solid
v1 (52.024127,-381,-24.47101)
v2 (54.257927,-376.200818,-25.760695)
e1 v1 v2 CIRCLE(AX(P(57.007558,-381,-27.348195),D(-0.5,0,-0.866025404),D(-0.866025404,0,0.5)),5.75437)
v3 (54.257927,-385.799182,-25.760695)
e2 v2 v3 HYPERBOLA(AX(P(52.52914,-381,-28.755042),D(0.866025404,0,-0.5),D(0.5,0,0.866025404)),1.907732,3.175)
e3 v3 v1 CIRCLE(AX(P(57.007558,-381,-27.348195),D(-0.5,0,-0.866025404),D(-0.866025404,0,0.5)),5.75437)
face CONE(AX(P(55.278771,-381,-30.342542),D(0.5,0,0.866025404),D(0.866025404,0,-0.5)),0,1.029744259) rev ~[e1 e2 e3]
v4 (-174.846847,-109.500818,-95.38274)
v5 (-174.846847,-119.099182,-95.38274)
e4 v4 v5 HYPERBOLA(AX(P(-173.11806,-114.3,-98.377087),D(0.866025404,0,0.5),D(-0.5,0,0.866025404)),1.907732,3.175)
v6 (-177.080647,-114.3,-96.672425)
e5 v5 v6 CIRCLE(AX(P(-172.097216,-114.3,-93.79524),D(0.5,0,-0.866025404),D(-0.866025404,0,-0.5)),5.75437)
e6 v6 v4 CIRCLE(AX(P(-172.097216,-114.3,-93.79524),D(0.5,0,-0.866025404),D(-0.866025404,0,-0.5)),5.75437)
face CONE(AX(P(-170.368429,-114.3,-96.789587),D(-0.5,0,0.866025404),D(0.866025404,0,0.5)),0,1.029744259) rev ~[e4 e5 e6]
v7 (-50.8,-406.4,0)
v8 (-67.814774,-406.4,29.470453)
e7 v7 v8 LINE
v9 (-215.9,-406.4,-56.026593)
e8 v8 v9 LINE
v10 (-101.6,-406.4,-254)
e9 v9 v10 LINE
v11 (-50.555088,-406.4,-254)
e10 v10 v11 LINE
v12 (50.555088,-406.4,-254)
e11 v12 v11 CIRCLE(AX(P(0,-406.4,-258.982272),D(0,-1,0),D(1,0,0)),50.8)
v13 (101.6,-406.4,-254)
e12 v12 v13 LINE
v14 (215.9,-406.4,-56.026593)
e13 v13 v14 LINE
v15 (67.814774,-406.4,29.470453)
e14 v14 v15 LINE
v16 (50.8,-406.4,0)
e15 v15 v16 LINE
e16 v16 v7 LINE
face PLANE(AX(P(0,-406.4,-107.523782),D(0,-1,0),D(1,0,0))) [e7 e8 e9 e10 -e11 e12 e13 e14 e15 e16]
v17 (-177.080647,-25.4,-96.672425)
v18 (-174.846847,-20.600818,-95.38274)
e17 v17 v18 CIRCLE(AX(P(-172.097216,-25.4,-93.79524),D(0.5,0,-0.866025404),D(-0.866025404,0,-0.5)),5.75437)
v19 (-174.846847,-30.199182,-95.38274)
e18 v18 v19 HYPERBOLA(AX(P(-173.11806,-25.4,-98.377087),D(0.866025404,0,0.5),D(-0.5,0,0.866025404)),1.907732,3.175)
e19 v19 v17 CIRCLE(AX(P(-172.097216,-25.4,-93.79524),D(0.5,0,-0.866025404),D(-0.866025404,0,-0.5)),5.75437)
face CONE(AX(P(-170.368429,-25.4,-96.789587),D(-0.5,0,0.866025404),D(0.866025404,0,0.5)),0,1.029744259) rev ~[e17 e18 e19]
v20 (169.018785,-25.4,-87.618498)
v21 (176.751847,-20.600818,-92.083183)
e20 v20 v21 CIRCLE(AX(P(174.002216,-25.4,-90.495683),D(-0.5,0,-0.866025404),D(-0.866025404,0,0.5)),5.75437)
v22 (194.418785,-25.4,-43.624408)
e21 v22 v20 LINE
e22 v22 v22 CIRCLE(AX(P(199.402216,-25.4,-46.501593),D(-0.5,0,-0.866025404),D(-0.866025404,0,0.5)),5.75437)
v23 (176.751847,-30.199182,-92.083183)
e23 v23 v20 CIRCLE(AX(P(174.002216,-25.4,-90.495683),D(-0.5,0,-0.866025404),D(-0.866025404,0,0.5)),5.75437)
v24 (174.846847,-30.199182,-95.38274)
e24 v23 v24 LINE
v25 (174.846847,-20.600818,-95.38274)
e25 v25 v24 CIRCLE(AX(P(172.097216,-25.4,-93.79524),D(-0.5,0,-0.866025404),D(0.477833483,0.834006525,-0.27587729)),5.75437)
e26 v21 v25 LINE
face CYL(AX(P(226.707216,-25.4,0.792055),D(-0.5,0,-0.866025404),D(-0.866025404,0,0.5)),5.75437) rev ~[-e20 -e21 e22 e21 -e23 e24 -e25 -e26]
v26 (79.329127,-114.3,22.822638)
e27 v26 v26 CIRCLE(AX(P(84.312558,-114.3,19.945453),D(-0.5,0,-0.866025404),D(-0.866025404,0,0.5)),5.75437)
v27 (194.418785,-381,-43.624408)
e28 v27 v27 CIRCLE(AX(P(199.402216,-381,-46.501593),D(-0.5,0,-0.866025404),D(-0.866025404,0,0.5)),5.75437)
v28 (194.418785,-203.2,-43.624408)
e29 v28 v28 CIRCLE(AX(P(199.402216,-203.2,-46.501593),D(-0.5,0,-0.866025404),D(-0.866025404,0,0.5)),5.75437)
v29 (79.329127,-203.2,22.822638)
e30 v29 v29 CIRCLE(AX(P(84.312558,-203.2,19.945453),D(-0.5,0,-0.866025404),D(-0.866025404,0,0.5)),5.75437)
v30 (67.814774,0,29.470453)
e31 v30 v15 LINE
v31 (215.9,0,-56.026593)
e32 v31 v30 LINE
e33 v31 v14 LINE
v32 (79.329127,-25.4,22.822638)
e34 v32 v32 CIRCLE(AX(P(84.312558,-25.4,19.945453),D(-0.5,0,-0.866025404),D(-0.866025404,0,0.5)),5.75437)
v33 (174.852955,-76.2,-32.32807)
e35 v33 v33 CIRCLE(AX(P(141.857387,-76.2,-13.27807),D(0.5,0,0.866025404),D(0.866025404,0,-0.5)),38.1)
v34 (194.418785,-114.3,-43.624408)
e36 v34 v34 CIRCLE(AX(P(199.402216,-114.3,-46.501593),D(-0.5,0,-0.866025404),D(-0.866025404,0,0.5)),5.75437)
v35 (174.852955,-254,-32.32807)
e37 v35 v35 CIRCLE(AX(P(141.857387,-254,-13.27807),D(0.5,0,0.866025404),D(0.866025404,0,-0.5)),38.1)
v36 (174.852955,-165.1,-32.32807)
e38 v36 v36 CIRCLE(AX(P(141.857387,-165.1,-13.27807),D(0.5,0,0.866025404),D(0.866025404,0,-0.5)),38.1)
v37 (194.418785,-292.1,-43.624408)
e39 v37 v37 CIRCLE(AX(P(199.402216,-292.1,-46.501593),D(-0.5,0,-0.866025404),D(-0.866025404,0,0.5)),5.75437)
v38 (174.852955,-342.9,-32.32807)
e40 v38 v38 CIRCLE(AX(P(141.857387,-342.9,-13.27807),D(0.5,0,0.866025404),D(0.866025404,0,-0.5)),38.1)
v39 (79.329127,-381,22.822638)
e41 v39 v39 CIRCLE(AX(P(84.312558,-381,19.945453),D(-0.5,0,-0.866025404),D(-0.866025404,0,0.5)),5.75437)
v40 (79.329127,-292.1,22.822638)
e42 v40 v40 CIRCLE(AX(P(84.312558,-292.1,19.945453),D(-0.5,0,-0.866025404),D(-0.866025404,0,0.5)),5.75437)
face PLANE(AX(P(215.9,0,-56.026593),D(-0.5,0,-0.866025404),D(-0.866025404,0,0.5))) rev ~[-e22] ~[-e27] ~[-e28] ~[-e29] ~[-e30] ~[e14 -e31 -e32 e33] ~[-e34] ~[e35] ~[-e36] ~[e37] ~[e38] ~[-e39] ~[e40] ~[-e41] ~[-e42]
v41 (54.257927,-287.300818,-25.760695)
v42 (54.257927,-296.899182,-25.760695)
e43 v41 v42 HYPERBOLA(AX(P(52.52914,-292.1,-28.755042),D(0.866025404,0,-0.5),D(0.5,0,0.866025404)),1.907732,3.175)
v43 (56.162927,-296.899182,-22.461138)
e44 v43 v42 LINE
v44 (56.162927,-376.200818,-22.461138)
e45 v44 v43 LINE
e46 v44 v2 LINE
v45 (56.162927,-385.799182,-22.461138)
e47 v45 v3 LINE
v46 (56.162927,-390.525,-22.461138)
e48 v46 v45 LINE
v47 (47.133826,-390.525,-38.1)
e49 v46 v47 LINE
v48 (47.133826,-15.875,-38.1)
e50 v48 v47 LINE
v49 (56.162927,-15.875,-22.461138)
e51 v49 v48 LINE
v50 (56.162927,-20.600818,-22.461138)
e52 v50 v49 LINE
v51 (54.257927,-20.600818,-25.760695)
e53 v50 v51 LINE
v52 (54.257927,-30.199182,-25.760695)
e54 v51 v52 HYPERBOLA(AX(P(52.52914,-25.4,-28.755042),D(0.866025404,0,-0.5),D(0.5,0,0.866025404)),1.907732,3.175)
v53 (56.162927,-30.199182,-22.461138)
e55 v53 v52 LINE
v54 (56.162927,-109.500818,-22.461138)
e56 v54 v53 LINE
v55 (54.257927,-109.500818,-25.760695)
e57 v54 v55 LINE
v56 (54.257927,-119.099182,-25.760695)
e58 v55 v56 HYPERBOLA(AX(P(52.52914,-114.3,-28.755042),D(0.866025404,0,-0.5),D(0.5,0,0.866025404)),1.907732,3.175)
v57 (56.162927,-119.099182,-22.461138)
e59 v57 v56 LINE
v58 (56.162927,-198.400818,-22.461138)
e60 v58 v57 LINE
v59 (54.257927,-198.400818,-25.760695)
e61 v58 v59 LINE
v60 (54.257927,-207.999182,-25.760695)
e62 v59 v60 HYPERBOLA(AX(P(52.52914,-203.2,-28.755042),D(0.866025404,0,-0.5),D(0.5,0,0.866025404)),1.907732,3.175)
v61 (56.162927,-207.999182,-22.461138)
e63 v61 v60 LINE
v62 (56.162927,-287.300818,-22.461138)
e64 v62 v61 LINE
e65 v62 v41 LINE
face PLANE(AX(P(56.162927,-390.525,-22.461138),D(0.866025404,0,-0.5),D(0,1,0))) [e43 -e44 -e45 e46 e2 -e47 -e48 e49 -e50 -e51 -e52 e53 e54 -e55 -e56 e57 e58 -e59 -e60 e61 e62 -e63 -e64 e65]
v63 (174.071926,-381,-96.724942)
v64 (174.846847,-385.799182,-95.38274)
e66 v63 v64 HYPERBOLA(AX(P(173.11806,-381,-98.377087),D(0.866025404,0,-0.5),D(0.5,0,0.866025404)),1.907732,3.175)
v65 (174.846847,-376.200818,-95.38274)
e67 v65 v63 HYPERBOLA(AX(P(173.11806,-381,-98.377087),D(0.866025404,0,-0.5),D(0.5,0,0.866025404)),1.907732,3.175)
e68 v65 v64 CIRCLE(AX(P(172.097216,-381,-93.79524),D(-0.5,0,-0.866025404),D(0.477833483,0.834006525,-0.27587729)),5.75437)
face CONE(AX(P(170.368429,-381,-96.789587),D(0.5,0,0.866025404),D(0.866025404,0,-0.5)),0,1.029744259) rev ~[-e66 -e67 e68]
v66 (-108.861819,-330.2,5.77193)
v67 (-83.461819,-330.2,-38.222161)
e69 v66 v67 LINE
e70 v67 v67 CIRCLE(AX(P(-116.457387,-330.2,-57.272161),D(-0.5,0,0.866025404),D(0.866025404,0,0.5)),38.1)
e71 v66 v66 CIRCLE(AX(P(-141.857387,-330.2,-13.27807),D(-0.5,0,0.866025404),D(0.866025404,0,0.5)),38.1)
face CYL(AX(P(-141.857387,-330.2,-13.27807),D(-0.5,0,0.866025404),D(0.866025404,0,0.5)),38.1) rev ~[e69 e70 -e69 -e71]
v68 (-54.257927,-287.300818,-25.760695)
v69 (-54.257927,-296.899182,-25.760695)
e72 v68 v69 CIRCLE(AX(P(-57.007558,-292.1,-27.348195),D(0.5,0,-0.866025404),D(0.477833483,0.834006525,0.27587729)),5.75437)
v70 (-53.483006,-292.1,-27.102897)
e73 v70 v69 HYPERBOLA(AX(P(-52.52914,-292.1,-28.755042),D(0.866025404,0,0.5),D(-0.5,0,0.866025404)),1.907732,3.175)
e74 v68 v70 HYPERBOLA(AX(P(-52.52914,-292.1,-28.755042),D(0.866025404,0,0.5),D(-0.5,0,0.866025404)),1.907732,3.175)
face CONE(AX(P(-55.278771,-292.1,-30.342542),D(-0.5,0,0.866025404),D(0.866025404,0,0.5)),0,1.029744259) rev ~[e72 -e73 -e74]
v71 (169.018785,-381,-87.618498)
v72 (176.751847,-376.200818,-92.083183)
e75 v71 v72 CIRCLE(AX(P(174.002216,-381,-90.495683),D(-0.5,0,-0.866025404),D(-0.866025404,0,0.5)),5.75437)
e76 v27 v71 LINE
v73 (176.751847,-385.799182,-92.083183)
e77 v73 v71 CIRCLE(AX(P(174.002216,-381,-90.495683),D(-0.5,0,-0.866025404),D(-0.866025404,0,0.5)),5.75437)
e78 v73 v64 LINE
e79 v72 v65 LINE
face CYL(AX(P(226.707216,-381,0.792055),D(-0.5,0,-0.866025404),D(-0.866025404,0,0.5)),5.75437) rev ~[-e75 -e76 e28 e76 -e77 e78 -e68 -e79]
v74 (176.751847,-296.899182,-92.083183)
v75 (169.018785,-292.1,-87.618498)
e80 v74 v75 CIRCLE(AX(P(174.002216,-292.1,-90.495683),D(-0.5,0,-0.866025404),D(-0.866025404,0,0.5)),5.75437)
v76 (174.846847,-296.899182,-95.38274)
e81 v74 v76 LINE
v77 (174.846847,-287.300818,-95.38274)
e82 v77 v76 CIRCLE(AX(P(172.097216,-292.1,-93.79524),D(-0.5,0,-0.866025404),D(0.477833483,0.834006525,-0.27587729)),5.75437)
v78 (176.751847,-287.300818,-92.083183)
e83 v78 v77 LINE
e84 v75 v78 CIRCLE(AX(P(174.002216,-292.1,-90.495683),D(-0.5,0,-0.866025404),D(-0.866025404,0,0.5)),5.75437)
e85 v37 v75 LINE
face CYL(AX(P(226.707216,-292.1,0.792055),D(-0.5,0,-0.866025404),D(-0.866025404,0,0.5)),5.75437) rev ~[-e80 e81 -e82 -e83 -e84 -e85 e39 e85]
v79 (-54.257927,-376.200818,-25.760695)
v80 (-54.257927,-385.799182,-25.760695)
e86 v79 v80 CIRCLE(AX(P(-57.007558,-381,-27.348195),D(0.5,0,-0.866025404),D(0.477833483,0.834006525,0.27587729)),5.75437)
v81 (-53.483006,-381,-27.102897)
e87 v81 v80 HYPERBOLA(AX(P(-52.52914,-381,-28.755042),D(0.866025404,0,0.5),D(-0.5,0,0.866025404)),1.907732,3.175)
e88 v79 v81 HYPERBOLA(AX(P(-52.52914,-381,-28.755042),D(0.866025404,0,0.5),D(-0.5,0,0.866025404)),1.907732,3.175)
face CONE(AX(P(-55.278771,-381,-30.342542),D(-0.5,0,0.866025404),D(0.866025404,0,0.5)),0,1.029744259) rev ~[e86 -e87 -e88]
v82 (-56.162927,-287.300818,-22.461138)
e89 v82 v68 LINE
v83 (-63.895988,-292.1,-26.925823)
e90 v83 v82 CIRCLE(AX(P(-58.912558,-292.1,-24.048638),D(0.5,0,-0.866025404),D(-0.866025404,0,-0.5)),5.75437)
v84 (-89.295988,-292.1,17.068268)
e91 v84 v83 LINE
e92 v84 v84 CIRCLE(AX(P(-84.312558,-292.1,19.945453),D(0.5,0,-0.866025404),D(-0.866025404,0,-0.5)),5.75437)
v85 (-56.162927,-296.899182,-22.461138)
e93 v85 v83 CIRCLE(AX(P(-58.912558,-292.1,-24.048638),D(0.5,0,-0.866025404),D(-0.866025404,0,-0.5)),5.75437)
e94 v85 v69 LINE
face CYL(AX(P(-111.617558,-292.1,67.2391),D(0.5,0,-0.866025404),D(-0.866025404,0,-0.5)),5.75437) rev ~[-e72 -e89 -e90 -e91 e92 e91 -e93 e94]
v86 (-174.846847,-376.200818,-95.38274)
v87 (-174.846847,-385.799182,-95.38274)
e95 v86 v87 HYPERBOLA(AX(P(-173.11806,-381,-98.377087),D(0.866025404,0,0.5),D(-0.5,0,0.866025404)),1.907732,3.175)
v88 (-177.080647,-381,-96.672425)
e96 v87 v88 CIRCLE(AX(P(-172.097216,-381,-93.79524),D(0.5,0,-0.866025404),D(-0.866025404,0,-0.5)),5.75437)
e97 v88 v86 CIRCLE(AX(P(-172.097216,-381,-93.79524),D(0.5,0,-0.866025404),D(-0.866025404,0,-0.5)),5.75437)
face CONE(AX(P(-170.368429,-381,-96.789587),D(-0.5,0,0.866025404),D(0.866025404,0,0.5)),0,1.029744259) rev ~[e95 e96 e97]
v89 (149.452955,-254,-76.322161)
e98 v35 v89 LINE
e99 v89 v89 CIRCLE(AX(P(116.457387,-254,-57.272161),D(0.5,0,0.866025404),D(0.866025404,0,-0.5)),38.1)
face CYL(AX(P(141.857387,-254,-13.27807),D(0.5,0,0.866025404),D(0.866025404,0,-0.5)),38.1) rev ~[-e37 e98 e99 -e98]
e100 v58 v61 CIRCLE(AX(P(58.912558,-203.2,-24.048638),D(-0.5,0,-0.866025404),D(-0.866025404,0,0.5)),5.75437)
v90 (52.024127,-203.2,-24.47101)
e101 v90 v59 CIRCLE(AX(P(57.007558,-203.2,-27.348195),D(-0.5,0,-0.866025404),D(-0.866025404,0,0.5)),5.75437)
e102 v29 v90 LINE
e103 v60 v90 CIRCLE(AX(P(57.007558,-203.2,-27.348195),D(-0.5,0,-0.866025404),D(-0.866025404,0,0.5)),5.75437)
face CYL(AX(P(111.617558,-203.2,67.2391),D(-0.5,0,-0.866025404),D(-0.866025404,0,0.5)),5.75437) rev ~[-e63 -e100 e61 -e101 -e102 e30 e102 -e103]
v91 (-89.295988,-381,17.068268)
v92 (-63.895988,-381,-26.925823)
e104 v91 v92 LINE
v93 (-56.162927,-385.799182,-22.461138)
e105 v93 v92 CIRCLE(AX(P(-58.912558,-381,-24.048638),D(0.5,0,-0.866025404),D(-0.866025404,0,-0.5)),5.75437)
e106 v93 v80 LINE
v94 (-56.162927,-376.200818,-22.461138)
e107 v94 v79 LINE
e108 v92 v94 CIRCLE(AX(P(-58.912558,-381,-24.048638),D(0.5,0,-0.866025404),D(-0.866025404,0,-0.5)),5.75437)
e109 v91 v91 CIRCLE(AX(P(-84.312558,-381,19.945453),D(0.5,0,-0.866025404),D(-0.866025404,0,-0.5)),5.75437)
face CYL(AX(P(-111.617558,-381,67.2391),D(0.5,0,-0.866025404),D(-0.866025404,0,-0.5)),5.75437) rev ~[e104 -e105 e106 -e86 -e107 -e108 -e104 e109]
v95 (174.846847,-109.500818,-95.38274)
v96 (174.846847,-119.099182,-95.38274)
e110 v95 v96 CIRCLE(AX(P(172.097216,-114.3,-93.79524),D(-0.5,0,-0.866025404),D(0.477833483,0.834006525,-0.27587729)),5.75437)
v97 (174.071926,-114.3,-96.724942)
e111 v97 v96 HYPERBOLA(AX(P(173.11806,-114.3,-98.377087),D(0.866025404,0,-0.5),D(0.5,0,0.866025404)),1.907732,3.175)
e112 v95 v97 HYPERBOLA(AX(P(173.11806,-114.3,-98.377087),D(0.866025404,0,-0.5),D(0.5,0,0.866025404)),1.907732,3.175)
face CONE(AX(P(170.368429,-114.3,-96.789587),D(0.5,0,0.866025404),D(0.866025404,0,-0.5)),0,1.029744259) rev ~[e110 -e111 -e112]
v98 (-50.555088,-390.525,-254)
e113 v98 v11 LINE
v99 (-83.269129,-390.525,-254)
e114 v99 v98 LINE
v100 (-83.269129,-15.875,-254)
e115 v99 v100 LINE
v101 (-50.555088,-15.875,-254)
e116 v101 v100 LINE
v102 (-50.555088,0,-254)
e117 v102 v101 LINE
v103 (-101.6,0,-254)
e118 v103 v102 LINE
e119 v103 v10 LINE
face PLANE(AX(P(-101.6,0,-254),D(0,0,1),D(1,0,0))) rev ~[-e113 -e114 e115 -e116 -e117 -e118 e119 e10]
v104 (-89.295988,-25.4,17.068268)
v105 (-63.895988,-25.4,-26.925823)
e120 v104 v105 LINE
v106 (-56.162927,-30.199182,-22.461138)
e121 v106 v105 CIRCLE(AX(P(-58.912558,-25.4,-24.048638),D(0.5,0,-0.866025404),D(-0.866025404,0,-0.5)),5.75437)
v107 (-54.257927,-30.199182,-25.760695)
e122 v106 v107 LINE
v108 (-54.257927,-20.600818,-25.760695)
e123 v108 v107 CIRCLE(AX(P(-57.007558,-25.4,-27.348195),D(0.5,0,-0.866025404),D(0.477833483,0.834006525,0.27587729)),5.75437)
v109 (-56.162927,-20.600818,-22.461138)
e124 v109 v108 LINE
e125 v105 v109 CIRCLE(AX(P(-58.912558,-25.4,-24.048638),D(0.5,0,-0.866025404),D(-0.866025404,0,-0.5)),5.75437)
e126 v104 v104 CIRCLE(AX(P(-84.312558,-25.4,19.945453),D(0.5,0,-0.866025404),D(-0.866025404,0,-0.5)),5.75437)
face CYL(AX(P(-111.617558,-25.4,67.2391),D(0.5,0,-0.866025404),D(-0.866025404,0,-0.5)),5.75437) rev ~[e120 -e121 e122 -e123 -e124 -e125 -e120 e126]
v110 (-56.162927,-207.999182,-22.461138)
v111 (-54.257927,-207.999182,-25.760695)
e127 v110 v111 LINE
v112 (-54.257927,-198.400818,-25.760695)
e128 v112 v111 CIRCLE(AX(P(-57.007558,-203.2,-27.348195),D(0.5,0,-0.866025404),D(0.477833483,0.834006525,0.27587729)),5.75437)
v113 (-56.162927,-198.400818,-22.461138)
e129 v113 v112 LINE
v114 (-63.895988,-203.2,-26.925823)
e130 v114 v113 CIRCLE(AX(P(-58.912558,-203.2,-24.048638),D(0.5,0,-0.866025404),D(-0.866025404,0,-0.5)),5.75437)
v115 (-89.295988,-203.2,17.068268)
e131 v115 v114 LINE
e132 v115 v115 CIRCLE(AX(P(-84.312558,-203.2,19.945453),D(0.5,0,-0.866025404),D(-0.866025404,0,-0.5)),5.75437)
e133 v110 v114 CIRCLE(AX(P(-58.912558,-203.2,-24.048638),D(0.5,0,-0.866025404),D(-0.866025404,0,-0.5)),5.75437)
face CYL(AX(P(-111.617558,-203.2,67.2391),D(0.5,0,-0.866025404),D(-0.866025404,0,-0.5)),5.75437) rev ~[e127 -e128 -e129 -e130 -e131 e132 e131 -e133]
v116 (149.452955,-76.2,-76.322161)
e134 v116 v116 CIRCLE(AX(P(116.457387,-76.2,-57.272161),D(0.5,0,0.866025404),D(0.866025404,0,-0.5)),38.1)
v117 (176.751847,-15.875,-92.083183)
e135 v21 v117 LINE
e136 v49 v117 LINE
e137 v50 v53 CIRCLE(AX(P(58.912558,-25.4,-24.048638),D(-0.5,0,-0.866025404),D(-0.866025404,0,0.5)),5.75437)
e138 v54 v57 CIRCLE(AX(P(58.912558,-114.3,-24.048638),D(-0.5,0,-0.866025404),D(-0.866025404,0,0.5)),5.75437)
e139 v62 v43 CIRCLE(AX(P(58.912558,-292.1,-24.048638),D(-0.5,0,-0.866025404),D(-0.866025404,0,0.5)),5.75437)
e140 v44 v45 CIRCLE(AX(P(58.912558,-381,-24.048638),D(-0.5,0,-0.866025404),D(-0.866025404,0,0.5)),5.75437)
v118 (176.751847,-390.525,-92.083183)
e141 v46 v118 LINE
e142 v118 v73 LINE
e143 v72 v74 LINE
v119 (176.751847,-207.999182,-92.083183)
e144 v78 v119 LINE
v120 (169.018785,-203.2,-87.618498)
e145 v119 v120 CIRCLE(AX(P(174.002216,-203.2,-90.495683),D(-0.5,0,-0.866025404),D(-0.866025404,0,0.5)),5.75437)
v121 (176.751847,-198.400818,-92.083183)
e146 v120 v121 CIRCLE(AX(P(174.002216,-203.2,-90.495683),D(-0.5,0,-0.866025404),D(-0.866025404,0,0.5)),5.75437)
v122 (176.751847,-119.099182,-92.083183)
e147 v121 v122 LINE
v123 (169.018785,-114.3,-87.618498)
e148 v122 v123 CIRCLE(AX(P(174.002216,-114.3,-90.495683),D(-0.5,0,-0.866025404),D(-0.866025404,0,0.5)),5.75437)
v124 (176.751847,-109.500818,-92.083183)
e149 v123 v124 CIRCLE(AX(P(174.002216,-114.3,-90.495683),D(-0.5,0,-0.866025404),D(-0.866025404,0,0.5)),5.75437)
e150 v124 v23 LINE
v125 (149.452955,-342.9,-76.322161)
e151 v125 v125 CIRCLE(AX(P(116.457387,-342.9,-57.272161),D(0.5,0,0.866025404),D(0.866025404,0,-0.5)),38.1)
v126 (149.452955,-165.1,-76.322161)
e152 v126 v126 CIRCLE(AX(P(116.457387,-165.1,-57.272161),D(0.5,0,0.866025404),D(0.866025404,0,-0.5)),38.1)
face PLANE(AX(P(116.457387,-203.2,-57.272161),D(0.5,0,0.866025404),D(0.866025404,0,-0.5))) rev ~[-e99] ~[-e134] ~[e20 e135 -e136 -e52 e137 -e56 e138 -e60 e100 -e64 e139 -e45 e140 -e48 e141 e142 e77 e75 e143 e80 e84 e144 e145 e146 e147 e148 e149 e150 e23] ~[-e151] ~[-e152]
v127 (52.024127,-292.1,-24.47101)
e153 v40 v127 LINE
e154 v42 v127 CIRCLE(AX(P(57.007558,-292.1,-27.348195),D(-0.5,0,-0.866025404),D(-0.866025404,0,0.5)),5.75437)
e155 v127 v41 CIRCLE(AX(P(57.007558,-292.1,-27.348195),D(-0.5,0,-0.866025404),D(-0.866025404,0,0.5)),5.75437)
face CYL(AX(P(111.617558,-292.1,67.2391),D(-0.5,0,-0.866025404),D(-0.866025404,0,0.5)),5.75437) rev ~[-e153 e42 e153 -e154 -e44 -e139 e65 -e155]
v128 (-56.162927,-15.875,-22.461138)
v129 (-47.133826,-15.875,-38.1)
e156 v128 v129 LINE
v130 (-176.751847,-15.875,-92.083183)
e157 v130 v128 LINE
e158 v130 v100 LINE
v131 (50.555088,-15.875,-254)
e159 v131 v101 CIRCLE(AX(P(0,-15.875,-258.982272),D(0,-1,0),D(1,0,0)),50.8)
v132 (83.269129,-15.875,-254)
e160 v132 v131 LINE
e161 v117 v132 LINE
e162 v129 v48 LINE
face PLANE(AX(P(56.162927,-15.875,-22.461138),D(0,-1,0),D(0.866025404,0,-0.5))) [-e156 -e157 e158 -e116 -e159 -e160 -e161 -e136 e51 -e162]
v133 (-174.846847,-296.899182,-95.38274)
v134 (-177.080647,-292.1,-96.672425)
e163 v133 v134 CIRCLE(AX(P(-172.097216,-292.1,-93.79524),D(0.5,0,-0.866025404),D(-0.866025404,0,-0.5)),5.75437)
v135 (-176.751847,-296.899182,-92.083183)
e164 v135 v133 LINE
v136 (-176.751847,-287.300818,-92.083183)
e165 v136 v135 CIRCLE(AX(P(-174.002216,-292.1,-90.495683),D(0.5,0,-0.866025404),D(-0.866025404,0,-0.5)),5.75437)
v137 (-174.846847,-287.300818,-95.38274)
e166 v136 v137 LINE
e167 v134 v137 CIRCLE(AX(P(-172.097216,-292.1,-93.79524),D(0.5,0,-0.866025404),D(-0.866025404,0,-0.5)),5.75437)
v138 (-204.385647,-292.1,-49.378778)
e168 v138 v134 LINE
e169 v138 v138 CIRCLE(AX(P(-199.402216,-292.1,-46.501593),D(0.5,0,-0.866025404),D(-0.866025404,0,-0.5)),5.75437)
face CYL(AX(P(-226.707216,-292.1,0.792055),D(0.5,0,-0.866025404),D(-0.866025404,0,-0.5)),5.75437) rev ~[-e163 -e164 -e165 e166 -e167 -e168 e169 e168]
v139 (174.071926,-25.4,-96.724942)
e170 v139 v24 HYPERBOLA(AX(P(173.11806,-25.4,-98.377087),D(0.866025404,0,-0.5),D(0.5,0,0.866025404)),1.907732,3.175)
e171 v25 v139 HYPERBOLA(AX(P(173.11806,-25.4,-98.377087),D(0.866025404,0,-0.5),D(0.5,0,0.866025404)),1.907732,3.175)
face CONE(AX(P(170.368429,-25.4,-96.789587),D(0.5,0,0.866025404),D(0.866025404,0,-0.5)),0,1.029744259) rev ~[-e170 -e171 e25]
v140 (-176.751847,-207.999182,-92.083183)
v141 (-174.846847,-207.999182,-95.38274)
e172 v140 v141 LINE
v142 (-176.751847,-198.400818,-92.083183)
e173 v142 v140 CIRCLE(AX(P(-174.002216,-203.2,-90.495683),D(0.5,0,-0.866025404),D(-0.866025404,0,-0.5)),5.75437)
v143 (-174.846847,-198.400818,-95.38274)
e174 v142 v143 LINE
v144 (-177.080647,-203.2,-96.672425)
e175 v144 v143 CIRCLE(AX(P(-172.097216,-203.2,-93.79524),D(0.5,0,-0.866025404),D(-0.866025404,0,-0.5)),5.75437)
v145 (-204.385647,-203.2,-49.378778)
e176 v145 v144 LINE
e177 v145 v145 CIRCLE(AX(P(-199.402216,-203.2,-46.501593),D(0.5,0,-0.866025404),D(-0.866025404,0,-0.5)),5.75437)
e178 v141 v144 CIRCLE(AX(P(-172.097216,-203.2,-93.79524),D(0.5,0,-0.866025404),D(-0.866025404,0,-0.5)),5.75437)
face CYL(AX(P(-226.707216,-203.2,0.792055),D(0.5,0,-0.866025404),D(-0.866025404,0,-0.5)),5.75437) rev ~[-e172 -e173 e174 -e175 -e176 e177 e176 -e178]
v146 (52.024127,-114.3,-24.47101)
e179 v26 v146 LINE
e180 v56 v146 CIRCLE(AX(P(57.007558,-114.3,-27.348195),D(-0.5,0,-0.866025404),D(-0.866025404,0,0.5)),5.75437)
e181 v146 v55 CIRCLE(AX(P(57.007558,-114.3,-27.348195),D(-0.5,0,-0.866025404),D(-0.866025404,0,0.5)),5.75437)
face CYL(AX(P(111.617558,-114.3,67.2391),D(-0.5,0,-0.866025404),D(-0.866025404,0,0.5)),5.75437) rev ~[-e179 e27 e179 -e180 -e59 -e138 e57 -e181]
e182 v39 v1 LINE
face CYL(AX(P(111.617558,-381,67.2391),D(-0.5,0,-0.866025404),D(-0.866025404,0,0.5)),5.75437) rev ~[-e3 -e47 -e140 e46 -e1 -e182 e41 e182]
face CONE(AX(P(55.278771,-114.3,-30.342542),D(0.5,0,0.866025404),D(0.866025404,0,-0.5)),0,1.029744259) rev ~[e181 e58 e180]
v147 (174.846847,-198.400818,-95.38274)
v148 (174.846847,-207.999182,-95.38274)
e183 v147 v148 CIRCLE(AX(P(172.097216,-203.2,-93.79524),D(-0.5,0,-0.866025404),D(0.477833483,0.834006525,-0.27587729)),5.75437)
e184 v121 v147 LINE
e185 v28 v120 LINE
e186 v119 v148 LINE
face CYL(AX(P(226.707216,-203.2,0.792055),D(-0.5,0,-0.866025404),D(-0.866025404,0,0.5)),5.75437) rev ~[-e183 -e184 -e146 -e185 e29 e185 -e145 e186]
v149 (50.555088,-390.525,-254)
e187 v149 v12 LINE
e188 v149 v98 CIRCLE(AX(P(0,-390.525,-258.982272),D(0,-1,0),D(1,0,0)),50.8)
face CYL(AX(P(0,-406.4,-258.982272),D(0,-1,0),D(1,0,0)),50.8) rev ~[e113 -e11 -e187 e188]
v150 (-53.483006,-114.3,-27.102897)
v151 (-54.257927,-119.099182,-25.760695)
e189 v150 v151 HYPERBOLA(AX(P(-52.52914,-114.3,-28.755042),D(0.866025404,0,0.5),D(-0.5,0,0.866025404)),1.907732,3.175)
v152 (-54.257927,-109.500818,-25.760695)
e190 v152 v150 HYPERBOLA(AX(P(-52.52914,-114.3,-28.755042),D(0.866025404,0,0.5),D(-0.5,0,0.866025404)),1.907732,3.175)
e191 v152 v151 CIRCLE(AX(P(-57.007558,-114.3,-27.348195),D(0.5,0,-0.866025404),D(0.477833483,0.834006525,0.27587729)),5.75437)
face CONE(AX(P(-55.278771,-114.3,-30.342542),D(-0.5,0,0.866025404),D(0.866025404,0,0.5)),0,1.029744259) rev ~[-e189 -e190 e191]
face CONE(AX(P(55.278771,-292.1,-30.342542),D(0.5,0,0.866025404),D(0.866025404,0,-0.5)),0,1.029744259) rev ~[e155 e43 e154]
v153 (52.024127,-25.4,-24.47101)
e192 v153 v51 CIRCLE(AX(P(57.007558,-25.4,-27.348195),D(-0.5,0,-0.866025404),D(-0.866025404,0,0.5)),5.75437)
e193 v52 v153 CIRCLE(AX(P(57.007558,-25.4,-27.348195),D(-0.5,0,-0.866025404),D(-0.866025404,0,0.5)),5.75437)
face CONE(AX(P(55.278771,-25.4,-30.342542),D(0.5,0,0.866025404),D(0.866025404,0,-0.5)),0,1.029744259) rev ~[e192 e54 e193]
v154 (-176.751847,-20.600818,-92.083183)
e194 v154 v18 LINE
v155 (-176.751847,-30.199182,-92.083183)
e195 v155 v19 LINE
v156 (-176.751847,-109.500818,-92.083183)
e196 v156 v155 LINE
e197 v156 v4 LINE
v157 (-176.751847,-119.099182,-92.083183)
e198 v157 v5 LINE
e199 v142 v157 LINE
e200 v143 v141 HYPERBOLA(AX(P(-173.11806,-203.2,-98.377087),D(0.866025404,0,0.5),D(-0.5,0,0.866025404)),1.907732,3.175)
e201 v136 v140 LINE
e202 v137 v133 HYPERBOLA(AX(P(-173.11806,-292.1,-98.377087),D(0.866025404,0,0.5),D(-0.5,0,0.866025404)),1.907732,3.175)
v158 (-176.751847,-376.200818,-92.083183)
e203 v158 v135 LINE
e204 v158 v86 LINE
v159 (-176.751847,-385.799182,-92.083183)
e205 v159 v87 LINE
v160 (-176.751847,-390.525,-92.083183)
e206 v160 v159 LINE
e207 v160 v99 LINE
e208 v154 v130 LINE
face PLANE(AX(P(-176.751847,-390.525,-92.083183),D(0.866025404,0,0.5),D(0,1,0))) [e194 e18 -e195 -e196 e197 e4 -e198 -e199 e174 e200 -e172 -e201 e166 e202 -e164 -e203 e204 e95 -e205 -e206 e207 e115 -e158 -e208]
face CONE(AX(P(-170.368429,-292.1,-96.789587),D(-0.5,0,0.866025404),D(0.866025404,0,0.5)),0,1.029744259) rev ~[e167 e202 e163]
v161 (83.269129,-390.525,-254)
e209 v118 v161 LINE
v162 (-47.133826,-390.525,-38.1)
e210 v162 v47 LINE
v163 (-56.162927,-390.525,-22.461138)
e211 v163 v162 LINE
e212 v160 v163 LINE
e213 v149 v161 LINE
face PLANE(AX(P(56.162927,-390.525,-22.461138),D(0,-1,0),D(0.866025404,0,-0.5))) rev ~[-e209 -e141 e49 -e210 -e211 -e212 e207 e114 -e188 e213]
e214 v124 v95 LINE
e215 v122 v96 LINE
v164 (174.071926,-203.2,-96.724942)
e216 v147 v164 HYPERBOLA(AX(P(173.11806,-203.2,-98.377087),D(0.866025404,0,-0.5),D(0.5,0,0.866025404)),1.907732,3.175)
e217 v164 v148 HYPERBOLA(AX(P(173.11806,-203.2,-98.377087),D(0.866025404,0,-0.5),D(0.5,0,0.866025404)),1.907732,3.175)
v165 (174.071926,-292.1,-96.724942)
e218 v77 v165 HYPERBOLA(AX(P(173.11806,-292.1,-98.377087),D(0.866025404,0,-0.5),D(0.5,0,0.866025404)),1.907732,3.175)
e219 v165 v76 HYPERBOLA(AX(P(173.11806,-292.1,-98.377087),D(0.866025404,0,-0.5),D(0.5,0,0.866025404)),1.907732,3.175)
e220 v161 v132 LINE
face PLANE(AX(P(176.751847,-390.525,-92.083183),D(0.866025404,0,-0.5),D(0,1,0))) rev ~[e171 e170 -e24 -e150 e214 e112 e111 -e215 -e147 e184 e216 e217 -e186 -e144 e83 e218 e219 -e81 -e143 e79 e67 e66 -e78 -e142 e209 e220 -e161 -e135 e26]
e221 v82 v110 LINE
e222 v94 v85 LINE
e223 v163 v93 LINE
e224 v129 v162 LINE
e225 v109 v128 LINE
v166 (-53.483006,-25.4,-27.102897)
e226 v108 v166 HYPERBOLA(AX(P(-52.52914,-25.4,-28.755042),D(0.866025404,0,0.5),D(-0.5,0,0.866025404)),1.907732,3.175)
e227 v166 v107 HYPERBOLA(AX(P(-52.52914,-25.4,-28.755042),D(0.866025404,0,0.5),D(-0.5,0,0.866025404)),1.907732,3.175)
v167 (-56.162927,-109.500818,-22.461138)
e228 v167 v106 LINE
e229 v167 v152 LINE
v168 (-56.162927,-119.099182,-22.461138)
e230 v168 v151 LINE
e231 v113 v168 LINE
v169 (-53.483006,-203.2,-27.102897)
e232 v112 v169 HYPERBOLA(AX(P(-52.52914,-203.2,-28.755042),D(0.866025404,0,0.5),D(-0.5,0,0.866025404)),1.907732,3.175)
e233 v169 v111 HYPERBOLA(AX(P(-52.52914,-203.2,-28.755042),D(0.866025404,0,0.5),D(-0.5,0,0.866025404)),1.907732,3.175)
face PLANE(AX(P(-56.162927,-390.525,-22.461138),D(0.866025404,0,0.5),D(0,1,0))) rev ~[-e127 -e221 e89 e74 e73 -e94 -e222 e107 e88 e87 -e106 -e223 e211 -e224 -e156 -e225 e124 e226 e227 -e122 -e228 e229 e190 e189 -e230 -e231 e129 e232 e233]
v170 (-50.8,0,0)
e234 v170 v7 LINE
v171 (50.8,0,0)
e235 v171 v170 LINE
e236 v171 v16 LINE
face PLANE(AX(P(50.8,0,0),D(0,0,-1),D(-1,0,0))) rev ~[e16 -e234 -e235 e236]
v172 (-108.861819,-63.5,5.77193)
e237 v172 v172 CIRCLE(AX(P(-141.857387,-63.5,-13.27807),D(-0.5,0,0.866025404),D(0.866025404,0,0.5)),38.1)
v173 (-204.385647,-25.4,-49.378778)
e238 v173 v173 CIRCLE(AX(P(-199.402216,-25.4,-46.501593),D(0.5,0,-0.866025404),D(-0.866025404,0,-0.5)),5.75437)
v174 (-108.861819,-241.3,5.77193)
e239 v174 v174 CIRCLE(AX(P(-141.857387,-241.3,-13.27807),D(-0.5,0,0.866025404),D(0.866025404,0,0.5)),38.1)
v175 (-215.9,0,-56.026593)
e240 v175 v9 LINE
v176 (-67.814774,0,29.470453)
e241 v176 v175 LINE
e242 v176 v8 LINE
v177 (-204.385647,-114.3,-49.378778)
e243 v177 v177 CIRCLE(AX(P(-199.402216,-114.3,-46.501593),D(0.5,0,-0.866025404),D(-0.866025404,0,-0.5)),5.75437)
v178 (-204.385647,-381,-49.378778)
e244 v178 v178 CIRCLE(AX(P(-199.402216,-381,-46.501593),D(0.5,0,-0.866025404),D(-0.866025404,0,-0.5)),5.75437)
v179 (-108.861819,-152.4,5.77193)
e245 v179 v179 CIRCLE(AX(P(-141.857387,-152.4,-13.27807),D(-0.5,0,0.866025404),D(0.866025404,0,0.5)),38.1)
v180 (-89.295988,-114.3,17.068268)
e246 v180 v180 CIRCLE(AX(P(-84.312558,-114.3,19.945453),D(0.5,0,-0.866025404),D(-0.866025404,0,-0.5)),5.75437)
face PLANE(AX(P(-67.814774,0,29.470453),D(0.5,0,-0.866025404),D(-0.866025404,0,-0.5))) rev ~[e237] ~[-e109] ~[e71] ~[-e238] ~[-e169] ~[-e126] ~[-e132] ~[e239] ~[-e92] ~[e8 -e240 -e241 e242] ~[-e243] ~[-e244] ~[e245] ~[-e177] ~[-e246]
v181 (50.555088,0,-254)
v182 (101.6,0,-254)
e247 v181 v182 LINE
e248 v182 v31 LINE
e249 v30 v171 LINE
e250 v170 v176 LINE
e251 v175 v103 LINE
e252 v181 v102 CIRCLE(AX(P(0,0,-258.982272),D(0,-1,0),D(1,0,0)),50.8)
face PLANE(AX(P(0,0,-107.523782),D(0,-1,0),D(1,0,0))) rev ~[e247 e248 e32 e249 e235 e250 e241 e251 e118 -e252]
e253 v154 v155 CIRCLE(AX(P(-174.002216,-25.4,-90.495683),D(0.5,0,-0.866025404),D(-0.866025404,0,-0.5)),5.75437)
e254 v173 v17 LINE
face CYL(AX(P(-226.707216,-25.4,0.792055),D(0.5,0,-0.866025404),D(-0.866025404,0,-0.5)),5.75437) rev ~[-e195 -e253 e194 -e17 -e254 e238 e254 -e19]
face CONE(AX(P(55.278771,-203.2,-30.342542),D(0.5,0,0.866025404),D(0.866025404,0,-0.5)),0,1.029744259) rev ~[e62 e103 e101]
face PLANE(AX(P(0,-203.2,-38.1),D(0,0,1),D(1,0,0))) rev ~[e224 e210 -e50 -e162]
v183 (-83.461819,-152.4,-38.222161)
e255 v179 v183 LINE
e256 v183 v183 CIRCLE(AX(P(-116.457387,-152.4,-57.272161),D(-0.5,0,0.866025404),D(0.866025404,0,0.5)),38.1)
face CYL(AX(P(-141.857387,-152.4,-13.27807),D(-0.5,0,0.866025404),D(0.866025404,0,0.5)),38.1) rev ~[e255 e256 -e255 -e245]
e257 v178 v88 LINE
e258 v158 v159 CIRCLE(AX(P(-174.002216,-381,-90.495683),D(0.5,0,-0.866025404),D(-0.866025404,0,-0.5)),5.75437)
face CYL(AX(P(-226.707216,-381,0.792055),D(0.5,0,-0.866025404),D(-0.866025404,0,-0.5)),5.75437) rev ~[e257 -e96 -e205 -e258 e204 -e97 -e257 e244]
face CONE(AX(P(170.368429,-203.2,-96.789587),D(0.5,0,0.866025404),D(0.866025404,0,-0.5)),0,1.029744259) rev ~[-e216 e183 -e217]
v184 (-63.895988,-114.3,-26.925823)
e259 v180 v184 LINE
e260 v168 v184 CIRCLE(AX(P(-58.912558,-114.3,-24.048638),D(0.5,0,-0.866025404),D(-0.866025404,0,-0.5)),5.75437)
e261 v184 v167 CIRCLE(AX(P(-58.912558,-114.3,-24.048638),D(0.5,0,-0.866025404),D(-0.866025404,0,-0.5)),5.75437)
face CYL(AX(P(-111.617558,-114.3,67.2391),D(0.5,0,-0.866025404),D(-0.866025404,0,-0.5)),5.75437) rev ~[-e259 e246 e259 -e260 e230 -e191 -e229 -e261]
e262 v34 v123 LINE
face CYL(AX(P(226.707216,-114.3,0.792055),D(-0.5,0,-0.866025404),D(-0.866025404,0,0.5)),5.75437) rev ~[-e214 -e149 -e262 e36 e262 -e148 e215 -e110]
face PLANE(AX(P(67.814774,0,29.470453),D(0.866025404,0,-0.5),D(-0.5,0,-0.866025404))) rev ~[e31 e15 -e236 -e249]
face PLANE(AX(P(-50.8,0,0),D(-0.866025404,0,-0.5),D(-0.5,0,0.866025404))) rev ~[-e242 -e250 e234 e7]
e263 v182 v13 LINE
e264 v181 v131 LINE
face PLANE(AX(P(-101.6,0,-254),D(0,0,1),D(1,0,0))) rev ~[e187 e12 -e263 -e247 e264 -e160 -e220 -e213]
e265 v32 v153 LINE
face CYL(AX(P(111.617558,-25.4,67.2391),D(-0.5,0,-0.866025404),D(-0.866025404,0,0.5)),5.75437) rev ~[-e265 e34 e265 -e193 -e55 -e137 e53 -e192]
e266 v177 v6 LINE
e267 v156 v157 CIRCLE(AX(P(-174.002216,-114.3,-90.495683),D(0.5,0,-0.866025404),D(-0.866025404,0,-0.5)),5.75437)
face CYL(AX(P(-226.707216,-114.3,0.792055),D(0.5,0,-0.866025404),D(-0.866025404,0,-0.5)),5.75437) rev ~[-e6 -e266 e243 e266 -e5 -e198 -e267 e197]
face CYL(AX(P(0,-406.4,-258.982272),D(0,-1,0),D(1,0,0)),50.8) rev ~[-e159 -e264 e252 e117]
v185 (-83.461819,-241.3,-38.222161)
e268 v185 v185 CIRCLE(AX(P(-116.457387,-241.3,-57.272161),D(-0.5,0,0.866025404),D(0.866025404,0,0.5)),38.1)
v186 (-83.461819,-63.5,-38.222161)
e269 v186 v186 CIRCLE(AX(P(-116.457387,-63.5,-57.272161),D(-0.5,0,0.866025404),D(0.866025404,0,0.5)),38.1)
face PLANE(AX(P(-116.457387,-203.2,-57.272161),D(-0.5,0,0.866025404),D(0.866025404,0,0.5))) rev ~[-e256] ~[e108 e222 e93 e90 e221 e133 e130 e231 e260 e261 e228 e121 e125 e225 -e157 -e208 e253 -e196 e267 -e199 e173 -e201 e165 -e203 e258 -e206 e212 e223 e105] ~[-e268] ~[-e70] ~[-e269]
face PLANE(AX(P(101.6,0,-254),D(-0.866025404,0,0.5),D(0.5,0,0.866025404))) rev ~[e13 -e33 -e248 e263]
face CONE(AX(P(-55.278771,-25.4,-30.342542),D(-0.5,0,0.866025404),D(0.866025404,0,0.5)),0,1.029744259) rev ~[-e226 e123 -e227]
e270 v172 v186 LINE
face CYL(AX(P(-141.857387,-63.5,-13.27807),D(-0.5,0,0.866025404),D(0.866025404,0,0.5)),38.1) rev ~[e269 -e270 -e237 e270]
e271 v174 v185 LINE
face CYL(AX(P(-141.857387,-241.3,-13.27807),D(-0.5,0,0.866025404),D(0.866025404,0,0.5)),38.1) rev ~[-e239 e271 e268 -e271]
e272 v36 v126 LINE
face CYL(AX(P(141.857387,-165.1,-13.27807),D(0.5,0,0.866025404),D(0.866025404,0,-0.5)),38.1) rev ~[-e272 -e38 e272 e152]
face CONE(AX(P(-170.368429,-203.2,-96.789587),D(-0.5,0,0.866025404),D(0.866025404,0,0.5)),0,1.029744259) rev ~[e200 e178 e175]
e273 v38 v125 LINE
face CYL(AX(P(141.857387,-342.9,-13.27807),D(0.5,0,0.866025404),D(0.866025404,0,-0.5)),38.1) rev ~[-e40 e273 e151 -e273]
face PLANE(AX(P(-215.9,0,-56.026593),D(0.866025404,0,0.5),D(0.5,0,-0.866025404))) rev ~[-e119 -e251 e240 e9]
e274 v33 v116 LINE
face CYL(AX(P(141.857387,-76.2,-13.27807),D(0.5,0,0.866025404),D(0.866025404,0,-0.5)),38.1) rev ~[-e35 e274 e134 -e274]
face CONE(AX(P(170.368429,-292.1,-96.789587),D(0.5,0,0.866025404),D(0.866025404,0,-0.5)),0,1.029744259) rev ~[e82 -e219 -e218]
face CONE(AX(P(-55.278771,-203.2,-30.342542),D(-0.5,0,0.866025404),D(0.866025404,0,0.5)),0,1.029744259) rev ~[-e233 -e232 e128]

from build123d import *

# Parameters (mm, degrees)
F1_DEPTH         = 406.4
F2_R             = 38.1
F3_DEPTH         = 387.351
F4_R             = 38.1
F5_DEPTH         = 387.351
F8_W             = 139.2440905122
F8_H             = 374.65
F9_DEPTH         = 336.5510000866
F10_W            = 139.2440905122
F10_H            = 374.65
F11_DEPTH        = 336.551
F12_R            = 50.8
F13_DEPTH        = 406.401
F15_W            = 112.3258540089
F15_H            = 374.65
F16_DEPTH        = 215.901
F19_D            = 11.50874
F19_DEPTH        = 54.61
F19_TIP          = 3.4575743203
F19_ON_F17_D     = 11.50874
F19_ON_F17_DEPTH = 54.61
F19_ON_F17_TIP   = 3.4575743203


with BuildPart() as f1:
    # F0 (on Front) → F1 (new body)
    with BuildSketch(Plane.XZ):
        Polygon((-67.8147737194, 29.4704525612), (-215.9, -56.0265926949), (-101.6, -254), (101.6, -254), (215.9, -56.0265926949), (67.8147737194, 29.4704525612), (50.8, 0), (-50.8, 0), align=None)
    extrude(amount=F1_DEPTH)

    # F2 (on face) → F3 (cut, through all)
    with BuildSketch(Plane(origin=(29.7147737194, 0, 51.4674978174), x_dir=(0.8660254038, 0, -0.5), z_dir=(0.5, 0, 0.8660254038))):
        with Locations((129.4911357684, -76.2)):
            Circle(F2_R)
        with Locations((129.4911357684, -165.1)):
            Circle(F2_R)
        with Locations((129.4911357684, -254)):
            Circle(F2_R)
        with Locations((129.4911357684, -342.9)):
            Circle(F2_R)
    extrude(amount=-F3_DEPTH, mode=Mode.SUBTRACT)

    # F4 (on face) → F5 (cut, through all)
    with BuildSketch(Plane(origin=(-29.7147737194, 0, 51.4674978174), x_dir=(0.8660254038, 0, 0.5), z_dir=(-0.5, 0, 0.8660254038))):
        with Locations((-129.4911357684, -63.5)):
            Circle(F4_R)
        with Locations((-129.4911357684, -152.4)):
            Circle(F4_R)
        with Locations((-129.4911357684, -241.3)):
            Circle(F4_R)
        with Locations((-129.4911357684, -330.2)):
            Circle(F4_R)
    extrude(amount=-F5_DEPTH, mode=Mode.SUBTRACT)

    # F8 (on offset) → F9 (cut, through all)
    with BuildSketch(Plane(origin=(4.3147737194, 0, 7.4734073051), x_dir=(0.8660254038, 0, -0.5), z_dir=(0.5, 0, 0.8660254038))):
        with Locations((129.4911357684, -203.2)):
            Rectangle(F8_W, F8_H)
    extrude(amount=-F9_DEPTH, mode=Mode.SUBTRACT)

    # F10 (on offset) → F11 (cut, through all)
    with BuildSketch(Plane(origin=(-4.3147737194, 0, 7.4734073051), x_dir=(0.8660254038, 0, 0.5), z_dir=(-0.5, 0, 0.8660254038))):
        with Locations((-129.4911357684, -203.2)):
            Rectangle(F10_W, F10_H)
    extrude(amount=-F11_DEPTH, mode=Mode.SUBTRACT)

    # F12 (on face) → F13 (cut, through all)
    with BuildSketch(Plane.XZ.offset(406.4)):
        with Locations((0, -258.9822715367)):
            Circle(F12_R)
    extrude(amount=-F13_DEPTH, mode=Mode.SUBTRACT)

    # F15 (on offset) → F16 (cut, through all)
    with BuildSketch(Plane.XY.offset(-38.1)):
        with Locations((0, -203.2)):
            Rectangle(F15_W, F15_H)
    extrude(amount=-F16_DEPTH, mode=Mode.SUBTRACT)

    # F19
    with Locations(Plane(origin=(-29.7147737194, 0, 51.4674978174), x_dir=(0.8660254038, 0, 0.5), z_dir=(-0.5, 0, 0.8660254038))):
        with Locations((-195.9381810245, -381), (-63.0440905122, -381), (-63.0440905122, -292.1), (-195.9381810245, -292.1), (-195.9381810245, -203.2), (-63.0440905122, -203.2), (-63.0440905122, -114.3), (-195.9381810245, -114.3), (-195.9381810245, -25.4), (-63.0440905122, -25.4)):
            Hole(F19_D / 2, depth=F19_DEPTH)
            with Locations((0, 0, -(F19_DEPTH + F19_TIP / 2))):  # 118° drill point
                Cone(0, F19_D / 2, F19_TIP, mode=Mode.SUBTRACT)

    # F19 on F17
    with Locations(Plane(origin=(29.7147737194, 0, 51.4674978174), x_dir=(0.8660254038, 0, -0.5), z_dir=(0.5, 0, 0.8660254038))):
        with Locations((63.0440905122, -25.4), (63.0440905122, -114.3), (63.0440905122, -203.2), (63.0440905122, -292.1), (63.0440905122, -381), (195.9381810245, -381), (195.9381810245, -292.1), (195.9381810245, -203.2), (195.9381810245, -114.3), (195.9381810245, -25.4)):
            Hole(F19_ON_F17_D / 2, depth=F19_ON_F17_DEPTH)
            with Locations((0, 0, -(F19_ON_F17_DEPTH + F19_ON_F17_TIP / 2))):  # 118° drill point
                Cone(0, F19_ON_F17_D / 2, F19_ON_F17_TIP, mode=Mode.SUBTRACT)


solid = f1.part
